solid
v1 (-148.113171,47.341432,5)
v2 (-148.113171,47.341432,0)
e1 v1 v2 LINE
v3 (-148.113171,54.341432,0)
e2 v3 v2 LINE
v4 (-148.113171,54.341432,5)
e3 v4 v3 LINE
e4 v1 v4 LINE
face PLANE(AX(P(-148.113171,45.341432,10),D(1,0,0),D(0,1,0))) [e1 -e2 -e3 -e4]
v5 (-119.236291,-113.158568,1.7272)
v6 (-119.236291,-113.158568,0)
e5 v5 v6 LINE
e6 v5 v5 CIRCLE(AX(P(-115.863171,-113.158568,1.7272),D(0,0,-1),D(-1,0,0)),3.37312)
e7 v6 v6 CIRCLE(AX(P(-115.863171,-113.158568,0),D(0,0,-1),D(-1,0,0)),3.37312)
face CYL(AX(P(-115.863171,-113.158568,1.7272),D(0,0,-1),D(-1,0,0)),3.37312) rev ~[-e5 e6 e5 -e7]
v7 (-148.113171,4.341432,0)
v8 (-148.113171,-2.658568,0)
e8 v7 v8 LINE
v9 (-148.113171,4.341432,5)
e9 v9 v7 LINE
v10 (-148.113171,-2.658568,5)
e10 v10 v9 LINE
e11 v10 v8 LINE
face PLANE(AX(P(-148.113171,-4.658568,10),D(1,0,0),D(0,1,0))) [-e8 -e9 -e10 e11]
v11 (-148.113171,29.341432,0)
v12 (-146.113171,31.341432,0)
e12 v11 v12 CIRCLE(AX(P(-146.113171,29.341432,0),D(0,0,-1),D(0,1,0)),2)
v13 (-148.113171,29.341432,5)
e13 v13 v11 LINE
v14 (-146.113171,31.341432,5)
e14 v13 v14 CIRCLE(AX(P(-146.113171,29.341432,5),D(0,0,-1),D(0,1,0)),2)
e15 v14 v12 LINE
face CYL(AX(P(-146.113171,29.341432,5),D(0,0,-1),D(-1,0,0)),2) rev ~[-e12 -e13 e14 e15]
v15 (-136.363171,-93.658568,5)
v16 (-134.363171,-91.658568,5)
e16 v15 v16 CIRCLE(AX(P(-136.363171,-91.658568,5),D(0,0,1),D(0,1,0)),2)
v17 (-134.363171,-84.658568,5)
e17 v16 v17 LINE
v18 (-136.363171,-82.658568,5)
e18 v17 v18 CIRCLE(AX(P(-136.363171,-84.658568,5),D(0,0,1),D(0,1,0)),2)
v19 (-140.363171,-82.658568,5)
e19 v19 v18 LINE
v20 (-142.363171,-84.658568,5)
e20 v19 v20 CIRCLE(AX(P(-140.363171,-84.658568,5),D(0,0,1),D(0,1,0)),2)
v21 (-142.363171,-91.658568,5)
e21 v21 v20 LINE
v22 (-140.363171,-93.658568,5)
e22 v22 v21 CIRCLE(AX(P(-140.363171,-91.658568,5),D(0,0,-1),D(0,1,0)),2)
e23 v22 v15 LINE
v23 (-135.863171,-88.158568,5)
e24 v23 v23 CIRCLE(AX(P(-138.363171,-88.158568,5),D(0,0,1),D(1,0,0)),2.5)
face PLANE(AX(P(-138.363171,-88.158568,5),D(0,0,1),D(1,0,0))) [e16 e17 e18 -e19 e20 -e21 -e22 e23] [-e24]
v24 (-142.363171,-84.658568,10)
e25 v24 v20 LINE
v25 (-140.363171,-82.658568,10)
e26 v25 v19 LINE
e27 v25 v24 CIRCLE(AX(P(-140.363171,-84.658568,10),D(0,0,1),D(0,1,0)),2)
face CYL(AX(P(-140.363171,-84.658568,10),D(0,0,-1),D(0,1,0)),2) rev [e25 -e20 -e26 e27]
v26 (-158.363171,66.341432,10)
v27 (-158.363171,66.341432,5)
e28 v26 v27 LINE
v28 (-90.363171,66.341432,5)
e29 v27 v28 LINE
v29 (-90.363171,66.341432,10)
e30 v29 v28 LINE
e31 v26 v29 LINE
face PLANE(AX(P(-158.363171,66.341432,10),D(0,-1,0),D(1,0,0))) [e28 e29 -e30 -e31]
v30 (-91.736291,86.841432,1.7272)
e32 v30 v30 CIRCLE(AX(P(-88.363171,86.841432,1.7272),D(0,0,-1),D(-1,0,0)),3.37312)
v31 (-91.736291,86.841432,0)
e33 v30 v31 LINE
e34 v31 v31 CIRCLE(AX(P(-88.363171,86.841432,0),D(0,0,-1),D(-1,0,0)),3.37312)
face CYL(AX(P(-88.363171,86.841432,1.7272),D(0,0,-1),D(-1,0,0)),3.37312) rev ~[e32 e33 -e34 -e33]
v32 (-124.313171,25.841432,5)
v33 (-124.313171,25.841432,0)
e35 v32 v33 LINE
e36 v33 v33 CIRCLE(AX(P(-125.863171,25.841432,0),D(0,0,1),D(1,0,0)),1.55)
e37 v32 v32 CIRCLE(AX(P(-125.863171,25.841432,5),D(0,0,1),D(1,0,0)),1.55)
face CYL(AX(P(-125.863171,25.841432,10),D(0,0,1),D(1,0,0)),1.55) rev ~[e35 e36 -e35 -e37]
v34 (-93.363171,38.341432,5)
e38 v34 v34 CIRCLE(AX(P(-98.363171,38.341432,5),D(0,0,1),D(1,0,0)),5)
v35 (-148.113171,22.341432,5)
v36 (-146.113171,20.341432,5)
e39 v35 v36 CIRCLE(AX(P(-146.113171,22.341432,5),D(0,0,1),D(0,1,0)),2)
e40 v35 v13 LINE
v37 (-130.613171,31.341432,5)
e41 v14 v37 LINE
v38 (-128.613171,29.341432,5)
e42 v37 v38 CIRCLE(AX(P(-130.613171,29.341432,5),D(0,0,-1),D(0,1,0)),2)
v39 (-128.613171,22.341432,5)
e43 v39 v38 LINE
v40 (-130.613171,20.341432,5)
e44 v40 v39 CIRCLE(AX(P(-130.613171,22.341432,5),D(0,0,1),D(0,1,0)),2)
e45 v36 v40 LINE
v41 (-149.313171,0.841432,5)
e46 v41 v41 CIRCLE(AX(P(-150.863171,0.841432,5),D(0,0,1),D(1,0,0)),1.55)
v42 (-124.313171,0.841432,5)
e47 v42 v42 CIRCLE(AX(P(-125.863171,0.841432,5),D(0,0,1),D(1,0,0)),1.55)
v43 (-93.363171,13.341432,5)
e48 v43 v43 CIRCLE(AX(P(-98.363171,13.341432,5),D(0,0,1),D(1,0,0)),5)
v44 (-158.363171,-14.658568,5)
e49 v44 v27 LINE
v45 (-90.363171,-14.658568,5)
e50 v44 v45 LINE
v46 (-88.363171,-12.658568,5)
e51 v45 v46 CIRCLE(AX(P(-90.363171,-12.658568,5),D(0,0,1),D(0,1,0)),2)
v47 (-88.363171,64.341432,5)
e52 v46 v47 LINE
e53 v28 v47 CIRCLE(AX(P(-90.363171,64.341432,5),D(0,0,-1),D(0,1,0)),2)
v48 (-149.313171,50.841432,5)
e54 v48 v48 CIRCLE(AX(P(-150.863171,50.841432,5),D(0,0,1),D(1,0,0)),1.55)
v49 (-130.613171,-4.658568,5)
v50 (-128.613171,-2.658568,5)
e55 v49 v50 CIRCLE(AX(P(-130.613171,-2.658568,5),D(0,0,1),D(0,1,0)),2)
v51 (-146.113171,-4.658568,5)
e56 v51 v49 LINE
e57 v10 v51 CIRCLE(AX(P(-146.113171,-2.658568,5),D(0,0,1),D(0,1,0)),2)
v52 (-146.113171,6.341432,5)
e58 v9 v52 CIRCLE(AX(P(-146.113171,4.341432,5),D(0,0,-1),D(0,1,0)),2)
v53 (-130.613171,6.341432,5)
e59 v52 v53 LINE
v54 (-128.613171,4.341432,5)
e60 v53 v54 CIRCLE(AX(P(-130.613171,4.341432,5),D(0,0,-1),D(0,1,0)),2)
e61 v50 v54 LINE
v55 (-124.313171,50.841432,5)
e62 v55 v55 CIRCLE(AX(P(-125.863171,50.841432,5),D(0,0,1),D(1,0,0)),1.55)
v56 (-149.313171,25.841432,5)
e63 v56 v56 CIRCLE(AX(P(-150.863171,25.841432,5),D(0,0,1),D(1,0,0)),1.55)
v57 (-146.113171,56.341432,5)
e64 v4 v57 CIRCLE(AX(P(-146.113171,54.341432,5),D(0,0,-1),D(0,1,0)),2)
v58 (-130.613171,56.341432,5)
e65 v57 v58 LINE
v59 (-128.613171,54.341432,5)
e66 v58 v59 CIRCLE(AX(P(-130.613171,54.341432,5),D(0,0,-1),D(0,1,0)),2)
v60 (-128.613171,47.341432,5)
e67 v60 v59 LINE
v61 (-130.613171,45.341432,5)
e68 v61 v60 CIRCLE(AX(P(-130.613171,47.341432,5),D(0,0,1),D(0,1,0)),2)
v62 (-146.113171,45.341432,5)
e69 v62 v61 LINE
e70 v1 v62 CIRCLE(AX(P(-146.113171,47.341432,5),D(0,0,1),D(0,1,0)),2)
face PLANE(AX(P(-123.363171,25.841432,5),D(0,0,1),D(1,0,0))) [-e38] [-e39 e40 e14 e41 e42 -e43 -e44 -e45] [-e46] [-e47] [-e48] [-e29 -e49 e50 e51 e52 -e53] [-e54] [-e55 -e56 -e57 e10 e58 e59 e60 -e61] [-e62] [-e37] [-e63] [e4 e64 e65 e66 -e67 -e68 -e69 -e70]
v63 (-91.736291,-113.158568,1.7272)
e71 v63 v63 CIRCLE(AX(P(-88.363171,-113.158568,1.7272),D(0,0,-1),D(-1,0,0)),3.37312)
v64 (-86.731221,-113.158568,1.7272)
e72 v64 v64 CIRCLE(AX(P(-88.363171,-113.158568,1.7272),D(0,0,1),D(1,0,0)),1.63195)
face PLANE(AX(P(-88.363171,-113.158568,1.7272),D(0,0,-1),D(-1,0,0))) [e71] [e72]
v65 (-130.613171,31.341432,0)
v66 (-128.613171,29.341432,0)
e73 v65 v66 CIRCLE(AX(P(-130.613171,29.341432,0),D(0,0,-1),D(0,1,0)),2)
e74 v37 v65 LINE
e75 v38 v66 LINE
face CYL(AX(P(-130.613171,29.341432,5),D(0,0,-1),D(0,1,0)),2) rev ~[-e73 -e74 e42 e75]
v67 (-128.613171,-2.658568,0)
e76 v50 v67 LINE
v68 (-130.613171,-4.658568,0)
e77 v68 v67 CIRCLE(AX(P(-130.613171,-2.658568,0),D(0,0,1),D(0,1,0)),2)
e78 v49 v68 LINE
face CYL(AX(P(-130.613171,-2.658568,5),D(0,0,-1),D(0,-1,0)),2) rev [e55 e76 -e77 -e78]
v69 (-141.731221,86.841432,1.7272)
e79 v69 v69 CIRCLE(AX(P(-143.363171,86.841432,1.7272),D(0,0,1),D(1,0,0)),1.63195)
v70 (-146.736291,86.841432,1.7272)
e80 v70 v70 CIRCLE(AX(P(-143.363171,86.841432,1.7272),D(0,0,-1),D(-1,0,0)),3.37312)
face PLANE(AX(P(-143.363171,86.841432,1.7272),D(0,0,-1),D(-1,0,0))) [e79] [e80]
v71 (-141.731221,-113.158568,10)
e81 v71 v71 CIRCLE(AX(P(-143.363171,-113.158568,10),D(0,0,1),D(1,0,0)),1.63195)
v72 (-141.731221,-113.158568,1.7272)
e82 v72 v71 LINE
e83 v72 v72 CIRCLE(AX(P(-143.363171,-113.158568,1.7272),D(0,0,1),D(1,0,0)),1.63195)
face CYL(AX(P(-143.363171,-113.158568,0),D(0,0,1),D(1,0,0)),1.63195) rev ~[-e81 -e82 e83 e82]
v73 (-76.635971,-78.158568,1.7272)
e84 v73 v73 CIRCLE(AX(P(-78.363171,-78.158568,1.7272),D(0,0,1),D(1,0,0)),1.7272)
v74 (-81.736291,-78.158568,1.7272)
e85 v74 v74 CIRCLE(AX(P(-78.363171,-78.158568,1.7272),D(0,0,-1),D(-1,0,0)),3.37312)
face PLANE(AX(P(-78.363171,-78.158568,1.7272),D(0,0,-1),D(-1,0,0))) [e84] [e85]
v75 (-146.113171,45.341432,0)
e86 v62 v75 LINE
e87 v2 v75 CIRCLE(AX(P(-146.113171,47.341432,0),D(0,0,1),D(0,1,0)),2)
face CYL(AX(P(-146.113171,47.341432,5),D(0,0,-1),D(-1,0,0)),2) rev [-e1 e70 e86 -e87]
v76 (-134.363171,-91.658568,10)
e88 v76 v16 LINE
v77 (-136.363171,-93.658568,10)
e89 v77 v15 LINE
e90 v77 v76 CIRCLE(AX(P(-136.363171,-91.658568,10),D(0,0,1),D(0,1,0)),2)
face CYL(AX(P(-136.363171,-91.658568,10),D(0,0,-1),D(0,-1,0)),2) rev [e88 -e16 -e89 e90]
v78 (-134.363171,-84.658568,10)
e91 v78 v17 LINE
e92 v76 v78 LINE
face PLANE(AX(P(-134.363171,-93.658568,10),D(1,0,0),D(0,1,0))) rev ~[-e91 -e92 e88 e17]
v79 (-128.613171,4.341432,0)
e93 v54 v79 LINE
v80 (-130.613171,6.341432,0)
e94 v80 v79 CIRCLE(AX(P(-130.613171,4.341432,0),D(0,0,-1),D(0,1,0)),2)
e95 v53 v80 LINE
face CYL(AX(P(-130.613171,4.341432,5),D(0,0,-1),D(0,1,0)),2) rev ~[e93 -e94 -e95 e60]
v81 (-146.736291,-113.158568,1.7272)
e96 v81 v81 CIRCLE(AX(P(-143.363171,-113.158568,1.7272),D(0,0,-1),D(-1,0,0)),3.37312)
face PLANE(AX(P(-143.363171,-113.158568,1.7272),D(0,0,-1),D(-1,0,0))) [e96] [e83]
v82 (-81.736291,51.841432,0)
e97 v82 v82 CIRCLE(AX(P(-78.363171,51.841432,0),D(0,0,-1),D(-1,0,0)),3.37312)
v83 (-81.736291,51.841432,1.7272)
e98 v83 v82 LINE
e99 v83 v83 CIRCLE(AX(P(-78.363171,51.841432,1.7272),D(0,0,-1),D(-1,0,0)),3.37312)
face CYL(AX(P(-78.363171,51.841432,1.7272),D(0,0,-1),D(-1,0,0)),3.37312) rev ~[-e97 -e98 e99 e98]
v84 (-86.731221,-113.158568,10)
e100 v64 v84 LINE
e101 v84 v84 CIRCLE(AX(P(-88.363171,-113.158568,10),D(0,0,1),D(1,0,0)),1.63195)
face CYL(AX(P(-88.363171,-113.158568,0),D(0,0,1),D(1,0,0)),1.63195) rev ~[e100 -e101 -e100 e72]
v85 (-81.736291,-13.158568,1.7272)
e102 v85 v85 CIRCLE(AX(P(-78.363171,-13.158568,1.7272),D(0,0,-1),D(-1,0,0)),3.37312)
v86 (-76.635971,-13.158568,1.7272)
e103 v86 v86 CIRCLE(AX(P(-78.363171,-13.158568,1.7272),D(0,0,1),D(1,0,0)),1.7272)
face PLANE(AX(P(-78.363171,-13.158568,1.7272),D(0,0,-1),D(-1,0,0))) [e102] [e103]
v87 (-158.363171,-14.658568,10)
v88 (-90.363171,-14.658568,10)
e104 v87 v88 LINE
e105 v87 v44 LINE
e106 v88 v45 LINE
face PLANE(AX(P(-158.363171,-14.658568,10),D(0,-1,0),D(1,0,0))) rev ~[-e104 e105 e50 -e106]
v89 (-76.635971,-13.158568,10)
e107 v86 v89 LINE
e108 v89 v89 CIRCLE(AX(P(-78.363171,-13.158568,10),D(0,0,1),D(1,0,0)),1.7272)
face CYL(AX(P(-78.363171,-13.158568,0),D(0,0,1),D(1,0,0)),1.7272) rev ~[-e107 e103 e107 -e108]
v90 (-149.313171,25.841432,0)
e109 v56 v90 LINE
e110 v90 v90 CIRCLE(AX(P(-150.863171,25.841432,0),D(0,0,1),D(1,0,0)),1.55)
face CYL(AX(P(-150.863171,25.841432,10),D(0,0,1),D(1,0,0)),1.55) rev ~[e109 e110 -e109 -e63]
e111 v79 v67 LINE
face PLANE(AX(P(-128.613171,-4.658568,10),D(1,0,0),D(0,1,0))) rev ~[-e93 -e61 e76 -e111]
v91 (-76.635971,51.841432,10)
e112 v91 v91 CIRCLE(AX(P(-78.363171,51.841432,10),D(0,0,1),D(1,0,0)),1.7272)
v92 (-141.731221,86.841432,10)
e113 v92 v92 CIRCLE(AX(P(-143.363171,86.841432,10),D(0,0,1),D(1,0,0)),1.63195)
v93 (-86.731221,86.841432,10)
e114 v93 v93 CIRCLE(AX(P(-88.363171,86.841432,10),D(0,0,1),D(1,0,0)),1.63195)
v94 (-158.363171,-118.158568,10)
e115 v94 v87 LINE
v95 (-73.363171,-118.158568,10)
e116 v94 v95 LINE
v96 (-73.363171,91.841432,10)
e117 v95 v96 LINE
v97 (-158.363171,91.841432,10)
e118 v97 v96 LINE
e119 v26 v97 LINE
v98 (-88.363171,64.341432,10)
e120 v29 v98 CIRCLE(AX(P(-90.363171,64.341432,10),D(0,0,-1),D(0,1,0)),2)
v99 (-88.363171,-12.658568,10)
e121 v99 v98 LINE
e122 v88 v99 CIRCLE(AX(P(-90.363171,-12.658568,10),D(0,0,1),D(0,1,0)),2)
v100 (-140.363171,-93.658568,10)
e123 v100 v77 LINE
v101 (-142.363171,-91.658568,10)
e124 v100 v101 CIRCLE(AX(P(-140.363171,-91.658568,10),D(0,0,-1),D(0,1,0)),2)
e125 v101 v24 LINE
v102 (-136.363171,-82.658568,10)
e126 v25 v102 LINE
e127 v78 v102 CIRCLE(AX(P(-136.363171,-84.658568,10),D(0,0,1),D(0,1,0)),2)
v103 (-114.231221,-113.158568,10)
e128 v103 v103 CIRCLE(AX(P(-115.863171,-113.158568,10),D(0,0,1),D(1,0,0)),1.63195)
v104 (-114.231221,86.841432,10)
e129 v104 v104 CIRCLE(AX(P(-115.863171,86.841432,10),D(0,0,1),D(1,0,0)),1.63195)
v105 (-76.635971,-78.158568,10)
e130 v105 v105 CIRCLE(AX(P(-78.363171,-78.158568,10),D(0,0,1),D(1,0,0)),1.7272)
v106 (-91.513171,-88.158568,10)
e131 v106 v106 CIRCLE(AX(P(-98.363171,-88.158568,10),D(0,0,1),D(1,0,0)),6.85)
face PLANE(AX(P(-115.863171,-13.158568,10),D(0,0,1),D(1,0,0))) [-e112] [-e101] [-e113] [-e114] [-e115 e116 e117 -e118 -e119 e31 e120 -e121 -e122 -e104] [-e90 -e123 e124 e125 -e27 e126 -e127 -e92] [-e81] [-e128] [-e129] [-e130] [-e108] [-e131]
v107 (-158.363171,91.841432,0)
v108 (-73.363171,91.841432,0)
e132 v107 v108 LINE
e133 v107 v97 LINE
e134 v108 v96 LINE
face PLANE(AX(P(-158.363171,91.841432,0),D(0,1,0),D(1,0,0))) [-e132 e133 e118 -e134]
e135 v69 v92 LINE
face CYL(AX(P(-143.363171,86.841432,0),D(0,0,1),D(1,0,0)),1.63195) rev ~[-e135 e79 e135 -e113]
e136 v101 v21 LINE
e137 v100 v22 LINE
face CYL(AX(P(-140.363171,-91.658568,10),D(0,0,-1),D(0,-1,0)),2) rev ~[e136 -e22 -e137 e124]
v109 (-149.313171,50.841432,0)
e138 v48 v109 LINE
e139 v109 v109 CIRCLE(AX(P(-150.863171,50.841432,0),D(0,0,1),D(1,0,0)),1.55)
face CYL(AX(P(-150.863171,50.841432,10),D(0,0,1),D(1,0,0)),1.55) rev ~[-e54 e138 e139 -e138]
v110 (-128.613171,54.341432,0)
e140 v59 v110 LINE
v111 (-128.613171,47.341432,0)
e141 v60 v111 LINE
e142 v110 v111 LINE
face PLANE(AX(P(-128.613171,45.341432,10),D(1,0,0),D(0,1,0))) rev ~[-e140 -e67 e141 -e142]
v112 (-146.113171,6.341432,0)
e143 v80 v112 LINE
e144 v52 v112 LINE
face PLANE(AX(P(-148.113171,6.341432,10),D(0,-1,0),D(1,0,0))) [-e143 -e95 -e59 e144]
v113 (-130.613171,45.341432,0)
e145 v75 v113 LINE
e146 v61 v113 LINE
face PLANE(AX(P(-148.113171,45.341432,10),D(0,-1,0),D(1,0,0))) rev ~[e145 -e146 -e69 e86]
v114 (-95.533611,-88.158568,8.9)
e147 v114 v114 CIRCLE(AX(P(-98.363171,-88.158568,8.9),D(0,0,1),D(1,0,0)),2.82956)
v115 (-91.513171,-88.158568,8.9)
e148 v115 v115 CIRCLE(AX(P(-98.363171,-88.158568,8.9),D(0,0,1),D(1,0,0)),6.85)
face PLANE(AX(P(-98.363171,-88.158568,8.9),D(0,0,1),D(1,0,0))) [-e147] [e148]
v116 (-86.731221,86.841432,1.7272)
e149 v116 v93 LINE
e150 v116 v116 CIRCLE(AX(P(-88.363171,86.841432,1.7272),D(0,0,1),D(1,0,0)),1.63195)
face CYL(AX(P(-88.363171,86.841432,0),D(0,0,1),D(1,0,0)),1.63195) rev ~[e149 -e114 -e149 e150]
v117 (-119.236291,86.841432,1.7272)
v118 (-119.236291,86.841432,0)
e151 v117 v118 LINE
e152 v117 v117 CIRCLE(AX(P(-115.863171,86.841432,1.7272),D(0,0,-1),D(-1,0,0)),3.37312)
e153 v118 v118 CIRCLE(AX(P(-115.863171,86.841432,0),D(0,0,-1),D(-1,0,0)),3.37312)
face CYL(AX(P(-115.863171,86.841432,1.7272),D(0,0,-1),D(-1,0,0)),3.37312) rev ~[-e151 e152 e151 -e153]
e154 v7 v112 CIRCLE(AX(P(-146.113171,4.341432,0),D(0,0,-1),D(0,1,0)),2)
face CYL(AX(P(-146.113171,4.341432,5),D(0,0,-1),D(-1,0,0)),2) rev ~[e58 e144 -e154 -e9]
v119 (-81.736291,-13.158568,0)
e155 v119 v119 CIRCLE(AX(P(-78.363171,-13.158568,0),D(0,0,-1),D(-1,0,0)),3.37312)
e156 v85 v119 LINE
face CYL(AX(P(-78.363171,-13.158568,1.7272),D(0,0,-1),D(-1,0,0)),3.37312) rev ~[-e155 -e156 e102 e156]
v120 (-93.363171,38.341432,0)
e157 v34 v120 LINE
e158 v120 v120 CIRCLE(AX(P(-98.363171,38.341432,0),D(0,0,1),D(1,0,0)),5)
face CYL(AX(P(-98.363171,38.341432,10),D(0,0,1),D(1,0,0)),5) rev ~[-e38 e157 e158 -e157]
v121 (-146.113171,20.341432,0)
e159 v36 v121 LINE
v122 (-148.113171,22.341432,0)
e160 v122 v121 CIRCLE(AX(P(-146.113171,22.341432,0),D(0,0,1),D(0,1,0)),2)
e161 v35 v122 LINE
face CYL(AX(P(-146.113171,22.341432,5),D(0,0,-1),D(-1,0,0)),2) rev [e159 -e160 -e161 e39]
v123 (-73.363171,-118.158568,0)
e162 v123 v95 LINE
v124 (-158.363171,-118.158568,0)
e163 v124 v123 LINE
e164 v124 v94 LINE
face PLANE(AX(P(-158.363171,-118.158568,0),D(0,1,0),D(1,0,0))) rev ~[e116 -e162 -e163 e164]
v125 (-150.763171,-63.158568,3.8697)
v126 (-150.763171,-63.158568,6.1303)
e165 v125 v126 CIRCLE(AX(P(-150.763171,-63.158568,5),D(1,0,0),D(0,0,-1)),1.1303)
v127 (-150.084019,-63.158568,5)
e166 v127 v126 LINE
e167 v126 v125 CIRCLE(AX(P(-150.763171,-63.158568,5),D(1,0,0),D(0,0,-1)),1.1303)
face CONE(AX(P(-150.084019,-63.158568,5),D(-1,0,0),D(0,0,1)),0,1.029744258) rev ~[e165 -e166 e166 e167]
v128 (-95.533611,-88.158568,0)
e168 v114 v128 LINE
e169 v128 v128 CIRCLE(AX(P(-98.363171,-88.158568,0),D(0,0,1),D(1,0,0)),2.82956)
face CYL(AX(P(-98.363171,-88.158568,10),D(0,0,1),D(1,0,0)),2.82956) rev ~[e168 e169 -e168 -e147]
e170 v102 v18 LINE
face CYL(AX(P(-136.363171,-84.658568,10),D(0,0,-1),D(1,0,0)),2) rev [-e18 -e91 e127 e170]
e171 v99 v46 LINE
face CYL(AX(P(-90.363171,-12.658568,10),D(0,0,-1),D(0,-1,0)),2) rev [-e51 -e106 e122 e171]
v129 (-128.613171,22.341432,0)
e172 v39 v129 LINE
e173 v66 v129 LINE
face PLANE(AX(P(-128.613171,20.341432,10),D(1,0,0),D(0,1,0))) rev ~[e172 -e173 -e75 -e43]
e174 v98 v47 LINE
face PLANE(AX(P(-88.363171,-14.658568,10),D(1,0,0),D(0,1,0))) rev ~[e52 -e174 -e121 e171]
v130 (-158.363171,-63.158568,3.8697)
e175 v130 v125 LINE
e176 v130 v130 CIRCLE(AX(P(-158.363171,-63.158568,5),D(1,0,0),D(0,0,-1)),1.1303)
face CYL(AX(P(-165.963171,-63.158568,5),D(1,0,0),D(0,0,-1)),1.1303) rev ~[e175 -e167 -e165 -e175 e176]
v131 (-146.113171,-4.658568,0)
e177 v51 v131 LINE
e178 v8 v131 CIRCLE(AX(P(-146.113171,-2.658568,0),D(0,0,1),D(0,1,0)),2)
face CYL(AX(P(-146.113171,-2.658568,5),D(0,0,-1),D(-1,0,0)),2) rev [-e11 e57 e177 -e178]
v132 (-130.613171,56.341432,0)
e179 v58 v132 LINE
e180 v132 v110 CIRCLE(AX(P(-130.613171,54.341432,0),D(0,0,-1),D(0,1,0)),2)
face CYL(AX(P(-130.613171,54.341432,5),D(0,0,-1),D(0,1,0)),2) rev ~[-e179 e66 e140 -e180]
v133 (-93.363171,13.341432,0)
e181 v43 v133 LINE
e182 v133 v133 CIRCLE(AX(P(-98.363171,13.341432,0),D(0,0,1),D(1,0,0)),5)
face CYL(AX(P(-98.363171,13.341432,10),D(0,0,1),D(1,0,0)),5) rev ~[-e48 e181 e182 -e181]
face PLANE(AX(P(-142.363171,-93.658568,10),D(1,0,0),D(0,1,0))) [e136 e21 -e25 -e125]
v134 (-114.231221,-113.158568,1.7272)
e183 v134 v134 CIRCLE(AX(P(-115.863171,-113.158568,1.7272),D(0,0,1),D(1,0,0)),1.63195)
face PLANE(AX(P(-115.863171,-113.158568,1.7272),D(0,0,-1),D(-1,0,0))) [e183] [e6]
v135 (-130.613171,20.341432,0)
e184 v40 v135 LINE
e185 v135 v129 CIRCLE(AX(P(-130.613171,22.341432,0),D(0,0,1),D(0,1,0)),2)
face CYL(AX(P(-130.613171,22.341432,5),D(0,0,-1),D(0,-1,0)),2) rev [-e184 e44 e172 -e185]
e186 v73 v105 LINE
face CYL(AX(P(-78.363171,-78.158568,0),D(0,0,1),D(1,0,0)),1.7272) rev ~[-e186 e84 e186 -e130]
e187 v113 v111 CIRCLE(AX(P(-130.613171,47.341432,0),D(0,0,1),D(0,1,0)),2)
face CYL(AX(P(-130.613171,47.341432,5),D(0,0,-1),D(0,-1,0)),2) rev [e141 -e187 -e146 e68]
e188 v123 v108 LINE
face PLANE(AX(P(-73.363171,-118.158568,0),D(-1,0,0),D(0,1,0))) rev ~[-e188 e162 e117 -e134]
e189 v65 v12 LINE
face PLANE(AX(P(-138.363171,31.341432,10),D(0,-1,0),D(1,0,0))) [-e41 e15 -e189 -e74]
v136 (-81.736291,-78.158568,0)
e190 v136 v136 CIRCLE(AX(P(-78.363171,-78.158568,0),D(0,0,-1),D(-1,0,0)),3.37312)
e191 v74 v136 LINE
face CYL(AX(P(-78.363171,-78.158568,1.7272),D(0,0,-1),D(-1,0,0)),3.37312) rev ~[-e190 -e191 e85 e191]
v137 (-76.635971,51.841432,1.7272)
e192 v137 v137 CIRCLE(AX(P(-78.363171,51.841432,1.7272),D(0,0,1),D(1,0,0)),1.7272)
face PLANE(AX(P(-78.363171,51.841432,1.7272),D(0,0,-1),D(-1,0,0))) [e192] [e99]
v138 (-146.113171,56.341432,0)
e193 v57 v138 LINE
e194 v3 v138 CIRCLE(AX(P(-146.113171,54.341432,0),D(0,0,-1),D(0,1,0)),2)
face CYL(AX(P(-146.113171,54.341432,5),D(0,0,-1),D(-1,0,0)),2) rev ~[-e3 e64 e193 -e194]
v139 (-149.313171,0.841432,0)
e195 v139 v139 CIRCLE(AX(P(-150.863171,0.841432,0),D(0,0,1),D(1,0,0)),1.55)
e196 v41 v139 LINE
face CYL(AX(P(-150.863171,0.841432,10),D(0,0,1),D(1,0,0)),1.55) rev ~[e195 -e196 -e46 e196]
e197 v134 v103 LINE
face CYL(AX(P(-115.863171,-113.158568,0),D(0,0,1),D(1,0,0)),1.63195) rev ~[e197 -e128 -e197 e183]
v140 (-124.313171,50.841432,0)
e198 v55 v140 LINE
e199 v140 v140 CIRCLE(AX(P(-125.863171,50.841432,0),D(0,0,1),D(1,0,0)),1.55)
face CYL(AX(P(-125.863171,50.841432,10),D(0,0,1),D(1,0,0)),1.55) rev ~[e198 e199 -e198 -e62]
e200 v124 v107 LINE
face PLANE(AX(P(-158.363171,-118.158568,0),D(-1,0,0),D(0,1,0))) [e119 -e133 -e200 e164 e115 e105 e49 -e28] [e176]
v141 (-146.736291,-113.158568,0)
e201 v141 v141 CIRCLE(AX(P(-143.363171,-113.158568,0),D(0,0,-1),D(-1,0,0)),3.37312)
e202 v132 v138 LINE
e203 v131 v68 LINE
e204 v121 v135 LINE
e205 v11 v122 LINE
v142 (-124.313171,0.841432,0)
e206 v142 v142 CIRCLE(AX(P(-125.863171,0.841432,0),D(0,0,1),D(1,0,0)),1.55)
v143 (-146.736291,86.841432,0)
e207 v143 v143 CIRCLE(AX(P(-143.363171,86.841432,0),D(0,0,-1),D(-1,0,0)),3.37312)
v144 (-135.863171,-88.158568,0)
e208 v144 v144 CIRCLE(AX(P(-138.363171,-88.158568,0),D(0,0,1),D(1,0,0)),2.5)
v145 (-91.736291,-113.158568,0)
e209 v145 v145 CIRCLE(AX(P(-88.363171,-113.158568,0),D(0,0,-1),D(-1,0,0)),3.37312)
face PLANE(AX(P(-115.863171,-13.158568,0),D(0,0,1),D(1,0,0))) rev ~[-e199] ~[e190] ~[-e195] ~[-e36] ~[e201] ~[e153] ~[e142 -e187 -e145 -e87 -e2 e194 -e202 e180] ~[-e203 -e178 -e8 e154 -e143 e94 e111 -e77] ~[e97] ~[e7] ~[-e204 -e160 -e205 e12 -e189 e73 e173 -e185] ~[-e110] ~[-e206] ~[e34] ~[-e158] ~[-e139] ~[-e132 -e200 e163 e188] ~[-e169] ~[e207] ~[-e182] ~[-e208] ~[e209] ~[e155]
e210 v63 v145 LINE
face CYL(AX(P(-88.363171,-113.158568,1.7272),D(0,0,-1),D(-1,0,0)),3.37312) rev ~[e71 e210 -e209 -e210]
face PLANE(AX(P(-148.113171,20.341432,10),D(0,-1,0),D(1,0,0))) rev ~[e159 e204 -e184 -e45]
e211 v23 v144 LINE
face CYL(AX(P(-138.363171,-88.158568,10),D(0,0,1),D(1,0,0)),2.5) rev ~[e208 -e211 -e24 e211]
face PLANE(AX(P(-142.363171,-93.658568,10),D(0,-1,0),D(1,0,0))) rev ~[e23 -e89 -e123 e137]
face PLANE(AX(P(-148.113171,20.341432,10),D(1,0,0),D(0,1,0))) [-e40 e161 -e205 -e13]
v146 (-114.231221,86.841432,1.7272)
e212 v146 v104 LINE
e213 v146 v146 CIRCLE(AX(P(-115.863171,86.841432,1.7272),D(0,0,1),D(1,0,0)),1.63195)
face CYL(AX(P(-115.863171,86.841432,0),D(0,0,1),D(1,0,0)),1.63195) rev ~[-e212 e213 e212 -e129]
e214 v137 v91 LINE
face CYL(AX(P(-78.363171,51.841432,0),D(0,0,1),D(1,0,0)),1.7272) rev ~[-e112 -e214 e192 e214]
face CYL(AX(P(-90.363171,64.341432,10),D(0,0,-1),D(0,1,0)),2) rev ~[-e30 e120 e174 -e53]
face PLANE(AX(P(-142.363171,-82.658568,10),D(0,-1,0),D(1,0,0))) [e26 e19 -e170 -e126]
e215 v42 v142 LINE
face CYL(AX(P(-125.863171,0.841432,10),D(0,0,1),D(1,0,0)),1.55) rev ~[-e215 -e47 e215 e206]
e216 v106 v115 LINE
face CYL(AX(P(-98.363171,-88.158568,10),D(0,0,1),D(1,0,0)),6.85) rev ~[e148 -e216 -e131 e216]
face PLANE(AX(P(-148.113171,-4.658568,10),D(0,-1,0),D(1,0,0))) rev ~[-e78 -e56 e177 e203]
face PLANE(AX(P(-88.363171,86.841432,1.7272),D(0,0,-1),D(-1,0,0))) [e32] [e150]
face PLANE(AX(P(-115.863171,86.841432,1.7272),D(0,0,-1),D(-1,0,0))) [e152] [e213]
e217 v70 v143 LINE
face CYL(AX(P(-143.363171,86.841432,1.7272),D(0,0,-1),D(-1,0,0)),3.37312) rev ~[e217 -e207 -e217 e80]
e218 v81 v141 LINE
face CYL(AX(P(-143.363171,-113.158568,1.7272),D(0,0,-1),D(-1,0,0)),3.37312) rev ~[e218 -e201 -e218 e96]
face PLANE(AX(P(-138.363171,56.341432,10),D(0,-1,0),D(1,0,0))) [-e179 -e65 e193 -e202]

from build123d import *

# Parameters (mm, degrees)
SKETCH1_W                                           = 85
SKETCH1_H                                           = 210
BOSS_EXTRUDE1_DEPTH                                 = 10
RS232_BNC_FEEDTHROUGHS_REACH                        = 12
SKETCH2_R                                           = 5
LED_THRU_HOLE_REACH                                 = 12
SKETCH2_3_R                                         = 2.5
F_1_4_40_THREADED_THROUGH_HOLE_REACH                = 12
SKETCH3_R                                           = 2.82956
SKETCH3_3_R                                         = 6.85
SKETCH3_3_R_2                                       = 2.82956
SWITCH_RECESS_DEPTH                                 = 1.1
CBORE_FOR_4_BINDING_HEAD_MACHINE_SCREW1_D           = 3.4544
CBORE_FOR_4_BINDING_HEAD_MACHINE_SCREW1_CBORE_D     = 6.74624
CBORE_FOR_4_BINDING_HEAD_MACHINE_SCREW1_CBORE_DEPTH = 1.7272
RS232_FEEDTHRUS_REACH                               = 12
SKETCH2_7_W                                         = 9.75
SKETCH2_7_H                                         = 11
SKETCH2_7_R                                         = 1.55
SKETCH2_8_W                                         = 8
SKETCH2_8_H                                         = 11
SKETCH2_8_R                                         = 2.5
SKETCH2_8_W_2                                       = 70
SKETCH2_8_H_2                                       = 81
SKETCH2_8_R_2                                       = 1.55
SKETCH2_8_W_3                                       = 19.5
SKETCH2_8_R_3                                       = 5
CUT_EXTRUDE6_DEPTH                                  = 5
FILLET4_R                                           = 2
CBORE_FOR_4_BINDING_HEAD_MACHINE_SCREW2_D           = 3.2639
CBORE_FOR_4_BINDING_HEAD_MACHINE_SCREW2_DEPTH       = 10
CBORE_FOR_4_BINDING_HEAD_MACHINE_SCREW2_CBORE_D     = 6.74624
CBORE_FOR_4_BINDING_HEAD_MACHINE_SCREW2_CBORE_DEPTH = 1.7272
F_4_40_TAPPED_HOLE1_D                               = 2.2606
F_4_40_TAPPED_HOLE1_DEPTH                           = 7.6
F_4_40_TAPPED_HOLE1_TIP                             = 0.679152758


with BuildPart() as part:
    # Sketch1 → Boss-Extrude1 (new body)
    with BuildSketch(Plane.XY):
        with Locations((-115.863171355, -13.158567775)):
            Rectangle(SKETCH1_W, SKETCH1_H)
    extrude(amount=BOSS_EXTRUDE1_DEPTH)

    # Sketch2 → RS232 & BNC feedthroughs (cut, up to next)
    with BuildSketch(Plane.XY.offset(10), mode=Mode.PRIVATE) as rs232_bnc_feedthroughs_sk1:
        with Locations((-98.363171355, 38.341432225)):
            Circle(SKETCH2_R)
    rs232_bnc_feedthroughs_tool1 = extrude(rs232_bnc_feedthroughs_sk1.sketch, amount=-RS232_BNC_FEEDTHROUGHS_REACH, mode=Mode.PRIVATE) & part.part
    add(rs232_bnc_feedthroughs_tool1.solids().sort_by_distance((-98.363171, 38.341432, 10))[0], mode=Mode.SUBTRACT)
    # Sketch2 → RS232 & BNC feedthroughs (cut, up to next)
    with BuildSketch(Plane.XY.offset(10), mode=Mode.PRIVATE) as rs232_bnc_feedthroughs_sk2:
        with Locations((-98.363171355, 13.341432225)):
            Circle(SKETCH2_R)
    rs232_bnc_feedthroughs_tool2 = extrude(rs232_bnc_feedthroughs_sk2.sketch, amount=-RS232_BNC_FEEDTHROUGHS_REACH, mode=Mode.PRIVATE) & part.part
    add(rs232_bnc_feedthroughs_tool2.solids().sort_by_distance((-98.363171, 13.341432, 10))[0], mode=Mode.SUBTRACT)

    # Sketch2<3> → LED thru hole (cut, up to next)
    with BuildSketch(Plane.XY.offset(10), mode=Mode.PRIVATE) as led_thru_hole_sk1:
        with Locations((-138.363171355, -88.158567775)):
            Circle(SKETCH2_3_R)
    led_thru_hole_tool1 = extrude(led_thru_hole_sk1.sketch, amount=-LED_THRU_HOLE_REACH, mode=Mode.PRIVATE) & part.part
    add(led_thru_hole_tool1.solids().sort_by_distance((-138.363171, -88.158568, 10))[0], mode=Mode.SUBTRACT)

    # Sketch3 → 1/4-40 threaded through hole (cut, up to next)
    with BuildSketch(Plane.XY.offset(10), mode=Mode.PRIVATE) as f_1_4_40_threaded_through_hole_sk1:
        with Locations((-98.363171355, -88.158567775)):
            Circle(SKETCH3_R)
    f_1_4_40_threaded_through_hole_tool1 = extrude(f_1_4_40_threaded_through_hole_sk1.sketch, amount=-F_1_4_40_THREADED_THROUGH_HOLE_REACH, mode=Mode.PRIVATE) & part.part
    add(f_1_4_40_threaded_through_hole_tool1.solids().sort_by_distance((-98.363171, -88.158568, 10))[0], mode=Mode.SUBTRACT)

    # Sketch3<3> → switch recess (cut)
    with BuildSketch(Plane.XY.offset(10)):
        with Locations((-98.363171355, -88.158567775)):
            Circle(SKETCH3_3_R)
        with Locations((-98.363171355, -88.158567775)):
            Circle(SKETCH3_3_R_2, mode=Mode.SUBTRACT)
    extrude(amount=-SWITCH_RECESS_DEPTH, mode=Mode.SUBTRACT)

    # CBORE for #4 Binding Head Machine Screw1 (through all)
    with Locations(Plane(origin=(0, 0, 0), x_dir=(-1, 0, 0), z_dir=(0, 0, -1))):
        with Locations((78.363171355, 51.841432225), (78.363171355, -13.158567775), (78.363171355, -78.158567775)):
            CounterBoreHole(CBORE_FOR_4_BINDING_HEAD_MACHINE_SCREW1_D / 2, CBORE_FOR_4_BINDING_HEAD_MACHINE_SCREW1_CBORE_D / 2, CBORE_FOR_4_BINDING_HEAD_MACHINE_SCREW1_CBORE_DEPTH)

    # Sketch2<7> → RS232 feedthrus (cut, up to next)
    with BuildSketch(Plane.XY.offset(10), mode=Mode.PRIVATE) as rs232_feedthrus_sk1:
        with Locations((-143.238171355, 50.841432225)):
            Rectangle(SKETCH2_7_W, SKETCH2_7_H)
    rs232_feedthrus_tool1 = extrude(rs232_feedthrus_sk1.sketch, amount=-RS232_FEEDTHRUS_REACH, mode=Mode.PRIVATE) & part.part
    add(rs232_feedthrus_tool1.solids().sort_by_distance((-143.238171, 50.841432, 10))[0], mode=Mode.SUBTRACT)
    # Sketch2<7> → RS232 feedthrus (cut, up to next)
    with BuildSketch(Plane.XY.offset(10), mode=Mode.PRIVATE) as rs232_feedthrus_sk2:
        with Locations((-133.488171355, 50.841432225)):
            Rectangle(SKETCH2_7_W, SKETCH2_7_H)
    rs232_feedthrus_tool2 = extrude(rs232_feedthrus_sk2.sketch, amount=-RS232_FEEDTHRUS_REACH, mode=Mode.PRIVATE) & part.part
    add(rs232_feedthrus_tool2.solids().sort_by_distance((-133.488171, 50.841432, 10))[0], mode=Mode.SUBTRACT)
    # Sketch2<7> → RS232 feedthrus (cut, up to next)
    with BuildSketch(Plane.XY.offset(10), mode=Mode.PRIVATE) as rs232_feedthrus_sk3:
        with Locations((-143.238171355, 25.841432225)):
            Rectangle(SKETCH2_7_W, SKETCH2_7_H)
    rs232_feedthrus_tool3 = extrude(rs232_feedthrus_sk3.sketch, amount=-RS232_FEEDTHRUS_REACH, mode=Mode.PRIVATE) & part.part
    add(rs232_feedthrus_tool3.solids().sort_by_distance((-143.238171, 25.841432, 10))[0], mode=Mode.SUBTRACT)
    # Sketch2<7> → RS232 feedthrus (cut, up to next)
    with BuildSketch(Plane.XY.offset(10), mode=Mode.PRIVATE) as rs232_feedthrus_sk4:
        with Locations((-133.488171355, 25.841432225)):
            Rectangle(SKETCH2_7_W, SKETCH2_7_H)
    rs232_feedthrus_tool4 = extrude(rs232_feedthrus_sk4.sketch, amount=-RS232_FEEDTHRUS_REACH, mode=Mode.PRIVATE) & part.part
    add(rs232_feedthrus_tool4.solids().sort_by_distance((-133.488171, 25.841432, 10))[0], mode=Mode.SUBTRACT)
    # Sketch2<7> → RS232 feedthrus (cut, up to next)
    with BuildSketch(Plane.XY.offset(10), mode=Mode.PRIVATE) as rs232_feedthrus_sk5:
        with Locations((-133.488171355, 0.841432225)):
            Rectangle(SKETCH2_7_W, SKETCH2_7_H)
    rs232_feedthrus_tool5 = extrude(rs232_feedthrus_sk5.sketch, amount=-RS232_FEEDTHRUS_REACH, mode=Mode.PRIVATE) & part.part
    add(rs232_feedthrus_tool5.solids().sort_by_distance((-133.488171, 0.841432, 10))[0], mode=Mode.SUBTRACT)
    # Sketch2<7> → RS232 feedthrus (cut, up to next)
    with BuildSketch(Plane.XY.offset(10), mode=Mode.PRIVATE) as rs232_feedthrus_sk6:
        with Locations((-143.238171355, 0.841432225)):
            Rectangle(SKETCH2_7_W, SKETCH2_7_H)
    rs232_feedthrus_tool6 = extrude(rs232_feedthrus_sk6.sketch, amount=-RS232_FEEDTHRUS_REACH, mode=Mode.PRIVATE) & part.part
    add(rs232_feedthrus_tool6.solids().sort_by_distance((-143.238171, 0.841432, 10))[0], mode=Mode.SUBTRACT)
    # Sketch2<7> → RS232 feedthrus (cut, up to next)
    with BuildSketch(Plane.XY.offset(10), mode=Mode.PRIVATE) as rs232_feedthrus_sk7:
        with Locations((-125.863171355, 50.841432225)):
            Circle(SKETCH2_7_R)
    rs232_feedthrus_tool7 = extrude(rs232_feedthrus_sk7.sketch, amount=-RS232_FEEDTHRUS_REACH, mode=Mode.PRIVATE) & part.part
    add(rs232_feedthrus_tool7.solids().sort_by_distance((-125.863171, 50.841432, 10))[0], mode=Mode.SUBTRACT)
    # Sketch2<7> → RS232 feedthrus (cut, up to next)
    with BuildSketch(Plane.XY.offset(10), mode=Mode.PRIVATE) as rs232_feedthrus_sk8:
        with Locations((-150.863171355, 50.841432225)):
            Circle(SKETCH2_7_R)
    rs232_feedthrus_tool8 = extrude(rs232_feedthrus_sk8.sketch, amount=-RS232_FEEDTHRUS_REACH, mode=Mode.PRIVATE) & part.part
    add(rs232_feedthrus_tool8.solids().sort_by_distance((-150.863171, 50.841432, 10))[0], mode=Mode.SUBTRACT)
    # Sketch2<7> → RS232 feedthrus (cut, up to next)
    with BuildSketch(Plane.XY.offset(10), mode=Mode.PRIVATE) as rs232_feedthrus_sk9:
        with Locations((-150.863171355, 25.841432225)):
            Circle(SKETCH2_7_R)
    rs232_feedthrus_tool9 = extrude(rs232_feedthrus_sk9.sketch, amount=-RS232_FEEDTHRUS_REACH, mode=Mode.PRIVATE) & part.part
    add(rs232_feedthrus_tool9.solids().sort_by_distance((-150.863171, 25.841432, 10))[0], mode=Mode.SUBTRACT)
    # Sketch2<7> → RS232 feedthrus (cut, up to next)
    with BuildSketch(Plane.XY.offset(10), mode=Mode.PRIVATE) as rs232_feedthrus_sk10:
        with Locations((-125.863171355, 25.841432225)):
            Circle(SKETCH2_7_R)
    rs232_feedthrus_tool10 = extrude(rs232_feedthrus_sk10.sketch, amount=-RS232_FEEDTHRUS_REACH, mode=Mode.PRIVATE) & part.part
    add(rs232_feedthrus_tool10.solids().sort_by_distance((-125.863171, 25.841432, 10))[0], mode=Mode.SUBTRACT)
    # Sketch2<7> → RS232 feedthrus (cut, up to next)
    with BuildSketch(Plane.XY.offset(10), mode=Mode.PRIVATE) as rs232_feedthrus_sk11:
        with Locations((-150.863171355, 0.841432225)):
            Circle(SKETCH2_7_R)
    rs232_feedthrus_tool11 = extrude(rs232_feedthrus_sk11.sketch, amount=-RS232_FEEDTHRUS_REACH, mode=Mode.PRIVATE) & part.part
    add(rs232_feedthrus_tool11.solids().sort_by_distance((-150.863171, 0.841432, 10))[0], mode=Mode.SUBTRACT)
    # Sketch2<7> → RS232 feedthrus (cut, up to next)
    with BuildSketch(Plane.XY.offset(10), mode=Mode.PRIVATE) as rs232_feedthrus_sk12:
        with Locations((-125.863171355, 0.841432225)):
            Circle(SKETCH2_7_R)
    rs232_feedthrus_tool12 = extrude(rs232_feedthrus_sk12.sketch, amount=-RS232_FEEDTHRUS_REACH, mode=Mode.PRIVATE) & part.part
    add(rs232_feedthrus_tool12.solids().sort_by_distance((-125.863171, 0.841432, 10))[0], mode=Mode.SUBTRACT)

    # Sketch2<8> → Cut-Extrude6 (cut)
    with BuildSketch(Plane.XY.offset(10)):
        with Locations((-138.363171355, -88.158567775)):
            Rectangle(SKETCH2_8_W, SKETCH2_8_H)
        with Locations((-138.363171355, -88.158567775)):
            Circle(SKETCH2_8_R, mode=Mode.SUBTRACT)
        with Locations((-123.363171355, 25.841432225)):
            Rectangle(SKETCH2_8_W_2, SKETCH2_8_H_2)
        with Locations((-150.863171355, 0.841432225)):
            Circle(SKETCH2_8_R_2, mode=Mode.SUBTRACT)
        with Locations((-150.863171355, 25.841432225)):
            Circle(SKETCH2_8_R_2, mode=Mode.SUBTRACT)
        with Locations((-138.363171355, 0.841432225)):
            Rectangle(SKETCH2_8_W_3, SKETCH2_8_H, mode=Mode.SUBTRACT)
        with Locations((-125.863171355, 0.841432225)):
            Circle(SKETCH2_8_R_2, mode=Mode.SUBTRACT)
        with Locations((-138.363171355, 25.841432225)):
            Rectangle(SKETCH2_8_W_3, SKETCH2_8_H, mode=Mode.SUBTRACT)
        with Locations((-125.863171355, 25.841432225)):
            Circle(SKETCH2_8_R_2, mode=Mode.SUBTRACT)
        with Locations((-150.863171355, 50.841432225)):
            Circle(SKETCH2_8_R_2, mode=Mode.SUBTRACT)
        with Locations((-138.363171355, 50.841432225)):
            Rectangle(SKETCH2_8_W_3, SKETCH2_8_H, mode=Mode.SUBTRACT)
        with Locations((-125.863171355, 50.841432225)):
            Circle(SKETCH2_8_R_2, mode=Mode.SUBTRACT)
        with Locations((-98.363171355, 13.341432225)):
            Circle(SKETCH2_8_R_3, mode=Mode.SUBTRACT)
        with Locations((-98.363171355, 38.341432225)):
            Circle(SKETCH2_8_R_3, mode=Mode.SUBTRACT)
    extrude(amount=-CUT_EXTRUDE6_DEPTH, mode=Mode.SUBTRACT)

    # Fillet4
    fillet4_edges = [part.edges().sort_by_distance(p)[0] for p in [
        (-128.613171355, 56.341432225, 2.5),
        (-128.613171355, 45.341432225, 2.5),
        (-88.363171355, 66.341432225, 7.5),
        (-88.363171355, -14.658567775, 7.5),
        (-134.363171355, -93.658567775, 7.5),
        (-142.363171355, -93.658567775, 7.5),
        (-142.363171355, -82.658567775, 7.5),
        (-134.363171355, -82.658567775, 7.5),
        (-148.113171355, 20.341432225, 2.5),
        (-148.113171355, 31.341432225, 2.5),
        (-128.613171355, 31.341432225, 2.5),
        (-128.613171355, 20.341432225, 2.5),
        (-128.613171355, 6.341432225, 2.5),
        (-128.613171355, -4.658567775, 2.5),
        (-148.113171355, -4.658567775, 2.5),
        (-148.113171355, 6.341432225, 2.5),
        (-148.113171355, 45.341432225, 2.5),
        (-148.113171355, 56.341432225, 2.5),
    ]]
    fillet(fillet4_edges, radius=FILLET4_R)

    # CBORE for #4 Binding Head Machine Screw2
    with Locations(Plane(origin=(0, 0, 0), x_dir=(-1, 0, 0), z_dir=(0, 0, -1))):
        with Locations((143.363171355, 86.841432225), (115.863171355, 86.841432225), (88.363171355, 86.841432225), (88.363171355, -113.158567775), (115.863171355, -113.158567775), (143.363171355, -113.158567775)):
            CounterBoreHole(CBORE_FOR_4_BINDING_HEAD_MACHINE_SCREW2_D / 2, CBORE_FOR_4_BINDING_HEAD_MACHINE_SCREW2_CBORE_D / 2, CBORE_FOR_4_BINDING_HEAD_MACHINE_SCREW2_CBORE_DEPTH, depth=CBORE_FOR_4_BINDING_HEAD_MACHINE_SCREW2_DEPTH)

    # #4-40 Tapped Hole1
    with Locations(Plane.ZY.offset(158.363171355)):
        with Locations((5, -63.158567775)):
            Hole(F_4_40_TAPPED_HOLE1_D / 2, depth=F_4_40_TAPPED_HOLE1_DEPTH)
            with Locations((0, 0, -(F_4_40_TAPPED_HOLE1_DEPTH + F_4_40_TAPPED_HOLE1_TIP / 2))):  # 118° drill point
                Cone(0, F_4_40_TAPPED_HOLE1_D / 2, F_4_40_TAPPED_HOLE1_TIP, mode=Mode.SUBTRACT)


solid = part.part
